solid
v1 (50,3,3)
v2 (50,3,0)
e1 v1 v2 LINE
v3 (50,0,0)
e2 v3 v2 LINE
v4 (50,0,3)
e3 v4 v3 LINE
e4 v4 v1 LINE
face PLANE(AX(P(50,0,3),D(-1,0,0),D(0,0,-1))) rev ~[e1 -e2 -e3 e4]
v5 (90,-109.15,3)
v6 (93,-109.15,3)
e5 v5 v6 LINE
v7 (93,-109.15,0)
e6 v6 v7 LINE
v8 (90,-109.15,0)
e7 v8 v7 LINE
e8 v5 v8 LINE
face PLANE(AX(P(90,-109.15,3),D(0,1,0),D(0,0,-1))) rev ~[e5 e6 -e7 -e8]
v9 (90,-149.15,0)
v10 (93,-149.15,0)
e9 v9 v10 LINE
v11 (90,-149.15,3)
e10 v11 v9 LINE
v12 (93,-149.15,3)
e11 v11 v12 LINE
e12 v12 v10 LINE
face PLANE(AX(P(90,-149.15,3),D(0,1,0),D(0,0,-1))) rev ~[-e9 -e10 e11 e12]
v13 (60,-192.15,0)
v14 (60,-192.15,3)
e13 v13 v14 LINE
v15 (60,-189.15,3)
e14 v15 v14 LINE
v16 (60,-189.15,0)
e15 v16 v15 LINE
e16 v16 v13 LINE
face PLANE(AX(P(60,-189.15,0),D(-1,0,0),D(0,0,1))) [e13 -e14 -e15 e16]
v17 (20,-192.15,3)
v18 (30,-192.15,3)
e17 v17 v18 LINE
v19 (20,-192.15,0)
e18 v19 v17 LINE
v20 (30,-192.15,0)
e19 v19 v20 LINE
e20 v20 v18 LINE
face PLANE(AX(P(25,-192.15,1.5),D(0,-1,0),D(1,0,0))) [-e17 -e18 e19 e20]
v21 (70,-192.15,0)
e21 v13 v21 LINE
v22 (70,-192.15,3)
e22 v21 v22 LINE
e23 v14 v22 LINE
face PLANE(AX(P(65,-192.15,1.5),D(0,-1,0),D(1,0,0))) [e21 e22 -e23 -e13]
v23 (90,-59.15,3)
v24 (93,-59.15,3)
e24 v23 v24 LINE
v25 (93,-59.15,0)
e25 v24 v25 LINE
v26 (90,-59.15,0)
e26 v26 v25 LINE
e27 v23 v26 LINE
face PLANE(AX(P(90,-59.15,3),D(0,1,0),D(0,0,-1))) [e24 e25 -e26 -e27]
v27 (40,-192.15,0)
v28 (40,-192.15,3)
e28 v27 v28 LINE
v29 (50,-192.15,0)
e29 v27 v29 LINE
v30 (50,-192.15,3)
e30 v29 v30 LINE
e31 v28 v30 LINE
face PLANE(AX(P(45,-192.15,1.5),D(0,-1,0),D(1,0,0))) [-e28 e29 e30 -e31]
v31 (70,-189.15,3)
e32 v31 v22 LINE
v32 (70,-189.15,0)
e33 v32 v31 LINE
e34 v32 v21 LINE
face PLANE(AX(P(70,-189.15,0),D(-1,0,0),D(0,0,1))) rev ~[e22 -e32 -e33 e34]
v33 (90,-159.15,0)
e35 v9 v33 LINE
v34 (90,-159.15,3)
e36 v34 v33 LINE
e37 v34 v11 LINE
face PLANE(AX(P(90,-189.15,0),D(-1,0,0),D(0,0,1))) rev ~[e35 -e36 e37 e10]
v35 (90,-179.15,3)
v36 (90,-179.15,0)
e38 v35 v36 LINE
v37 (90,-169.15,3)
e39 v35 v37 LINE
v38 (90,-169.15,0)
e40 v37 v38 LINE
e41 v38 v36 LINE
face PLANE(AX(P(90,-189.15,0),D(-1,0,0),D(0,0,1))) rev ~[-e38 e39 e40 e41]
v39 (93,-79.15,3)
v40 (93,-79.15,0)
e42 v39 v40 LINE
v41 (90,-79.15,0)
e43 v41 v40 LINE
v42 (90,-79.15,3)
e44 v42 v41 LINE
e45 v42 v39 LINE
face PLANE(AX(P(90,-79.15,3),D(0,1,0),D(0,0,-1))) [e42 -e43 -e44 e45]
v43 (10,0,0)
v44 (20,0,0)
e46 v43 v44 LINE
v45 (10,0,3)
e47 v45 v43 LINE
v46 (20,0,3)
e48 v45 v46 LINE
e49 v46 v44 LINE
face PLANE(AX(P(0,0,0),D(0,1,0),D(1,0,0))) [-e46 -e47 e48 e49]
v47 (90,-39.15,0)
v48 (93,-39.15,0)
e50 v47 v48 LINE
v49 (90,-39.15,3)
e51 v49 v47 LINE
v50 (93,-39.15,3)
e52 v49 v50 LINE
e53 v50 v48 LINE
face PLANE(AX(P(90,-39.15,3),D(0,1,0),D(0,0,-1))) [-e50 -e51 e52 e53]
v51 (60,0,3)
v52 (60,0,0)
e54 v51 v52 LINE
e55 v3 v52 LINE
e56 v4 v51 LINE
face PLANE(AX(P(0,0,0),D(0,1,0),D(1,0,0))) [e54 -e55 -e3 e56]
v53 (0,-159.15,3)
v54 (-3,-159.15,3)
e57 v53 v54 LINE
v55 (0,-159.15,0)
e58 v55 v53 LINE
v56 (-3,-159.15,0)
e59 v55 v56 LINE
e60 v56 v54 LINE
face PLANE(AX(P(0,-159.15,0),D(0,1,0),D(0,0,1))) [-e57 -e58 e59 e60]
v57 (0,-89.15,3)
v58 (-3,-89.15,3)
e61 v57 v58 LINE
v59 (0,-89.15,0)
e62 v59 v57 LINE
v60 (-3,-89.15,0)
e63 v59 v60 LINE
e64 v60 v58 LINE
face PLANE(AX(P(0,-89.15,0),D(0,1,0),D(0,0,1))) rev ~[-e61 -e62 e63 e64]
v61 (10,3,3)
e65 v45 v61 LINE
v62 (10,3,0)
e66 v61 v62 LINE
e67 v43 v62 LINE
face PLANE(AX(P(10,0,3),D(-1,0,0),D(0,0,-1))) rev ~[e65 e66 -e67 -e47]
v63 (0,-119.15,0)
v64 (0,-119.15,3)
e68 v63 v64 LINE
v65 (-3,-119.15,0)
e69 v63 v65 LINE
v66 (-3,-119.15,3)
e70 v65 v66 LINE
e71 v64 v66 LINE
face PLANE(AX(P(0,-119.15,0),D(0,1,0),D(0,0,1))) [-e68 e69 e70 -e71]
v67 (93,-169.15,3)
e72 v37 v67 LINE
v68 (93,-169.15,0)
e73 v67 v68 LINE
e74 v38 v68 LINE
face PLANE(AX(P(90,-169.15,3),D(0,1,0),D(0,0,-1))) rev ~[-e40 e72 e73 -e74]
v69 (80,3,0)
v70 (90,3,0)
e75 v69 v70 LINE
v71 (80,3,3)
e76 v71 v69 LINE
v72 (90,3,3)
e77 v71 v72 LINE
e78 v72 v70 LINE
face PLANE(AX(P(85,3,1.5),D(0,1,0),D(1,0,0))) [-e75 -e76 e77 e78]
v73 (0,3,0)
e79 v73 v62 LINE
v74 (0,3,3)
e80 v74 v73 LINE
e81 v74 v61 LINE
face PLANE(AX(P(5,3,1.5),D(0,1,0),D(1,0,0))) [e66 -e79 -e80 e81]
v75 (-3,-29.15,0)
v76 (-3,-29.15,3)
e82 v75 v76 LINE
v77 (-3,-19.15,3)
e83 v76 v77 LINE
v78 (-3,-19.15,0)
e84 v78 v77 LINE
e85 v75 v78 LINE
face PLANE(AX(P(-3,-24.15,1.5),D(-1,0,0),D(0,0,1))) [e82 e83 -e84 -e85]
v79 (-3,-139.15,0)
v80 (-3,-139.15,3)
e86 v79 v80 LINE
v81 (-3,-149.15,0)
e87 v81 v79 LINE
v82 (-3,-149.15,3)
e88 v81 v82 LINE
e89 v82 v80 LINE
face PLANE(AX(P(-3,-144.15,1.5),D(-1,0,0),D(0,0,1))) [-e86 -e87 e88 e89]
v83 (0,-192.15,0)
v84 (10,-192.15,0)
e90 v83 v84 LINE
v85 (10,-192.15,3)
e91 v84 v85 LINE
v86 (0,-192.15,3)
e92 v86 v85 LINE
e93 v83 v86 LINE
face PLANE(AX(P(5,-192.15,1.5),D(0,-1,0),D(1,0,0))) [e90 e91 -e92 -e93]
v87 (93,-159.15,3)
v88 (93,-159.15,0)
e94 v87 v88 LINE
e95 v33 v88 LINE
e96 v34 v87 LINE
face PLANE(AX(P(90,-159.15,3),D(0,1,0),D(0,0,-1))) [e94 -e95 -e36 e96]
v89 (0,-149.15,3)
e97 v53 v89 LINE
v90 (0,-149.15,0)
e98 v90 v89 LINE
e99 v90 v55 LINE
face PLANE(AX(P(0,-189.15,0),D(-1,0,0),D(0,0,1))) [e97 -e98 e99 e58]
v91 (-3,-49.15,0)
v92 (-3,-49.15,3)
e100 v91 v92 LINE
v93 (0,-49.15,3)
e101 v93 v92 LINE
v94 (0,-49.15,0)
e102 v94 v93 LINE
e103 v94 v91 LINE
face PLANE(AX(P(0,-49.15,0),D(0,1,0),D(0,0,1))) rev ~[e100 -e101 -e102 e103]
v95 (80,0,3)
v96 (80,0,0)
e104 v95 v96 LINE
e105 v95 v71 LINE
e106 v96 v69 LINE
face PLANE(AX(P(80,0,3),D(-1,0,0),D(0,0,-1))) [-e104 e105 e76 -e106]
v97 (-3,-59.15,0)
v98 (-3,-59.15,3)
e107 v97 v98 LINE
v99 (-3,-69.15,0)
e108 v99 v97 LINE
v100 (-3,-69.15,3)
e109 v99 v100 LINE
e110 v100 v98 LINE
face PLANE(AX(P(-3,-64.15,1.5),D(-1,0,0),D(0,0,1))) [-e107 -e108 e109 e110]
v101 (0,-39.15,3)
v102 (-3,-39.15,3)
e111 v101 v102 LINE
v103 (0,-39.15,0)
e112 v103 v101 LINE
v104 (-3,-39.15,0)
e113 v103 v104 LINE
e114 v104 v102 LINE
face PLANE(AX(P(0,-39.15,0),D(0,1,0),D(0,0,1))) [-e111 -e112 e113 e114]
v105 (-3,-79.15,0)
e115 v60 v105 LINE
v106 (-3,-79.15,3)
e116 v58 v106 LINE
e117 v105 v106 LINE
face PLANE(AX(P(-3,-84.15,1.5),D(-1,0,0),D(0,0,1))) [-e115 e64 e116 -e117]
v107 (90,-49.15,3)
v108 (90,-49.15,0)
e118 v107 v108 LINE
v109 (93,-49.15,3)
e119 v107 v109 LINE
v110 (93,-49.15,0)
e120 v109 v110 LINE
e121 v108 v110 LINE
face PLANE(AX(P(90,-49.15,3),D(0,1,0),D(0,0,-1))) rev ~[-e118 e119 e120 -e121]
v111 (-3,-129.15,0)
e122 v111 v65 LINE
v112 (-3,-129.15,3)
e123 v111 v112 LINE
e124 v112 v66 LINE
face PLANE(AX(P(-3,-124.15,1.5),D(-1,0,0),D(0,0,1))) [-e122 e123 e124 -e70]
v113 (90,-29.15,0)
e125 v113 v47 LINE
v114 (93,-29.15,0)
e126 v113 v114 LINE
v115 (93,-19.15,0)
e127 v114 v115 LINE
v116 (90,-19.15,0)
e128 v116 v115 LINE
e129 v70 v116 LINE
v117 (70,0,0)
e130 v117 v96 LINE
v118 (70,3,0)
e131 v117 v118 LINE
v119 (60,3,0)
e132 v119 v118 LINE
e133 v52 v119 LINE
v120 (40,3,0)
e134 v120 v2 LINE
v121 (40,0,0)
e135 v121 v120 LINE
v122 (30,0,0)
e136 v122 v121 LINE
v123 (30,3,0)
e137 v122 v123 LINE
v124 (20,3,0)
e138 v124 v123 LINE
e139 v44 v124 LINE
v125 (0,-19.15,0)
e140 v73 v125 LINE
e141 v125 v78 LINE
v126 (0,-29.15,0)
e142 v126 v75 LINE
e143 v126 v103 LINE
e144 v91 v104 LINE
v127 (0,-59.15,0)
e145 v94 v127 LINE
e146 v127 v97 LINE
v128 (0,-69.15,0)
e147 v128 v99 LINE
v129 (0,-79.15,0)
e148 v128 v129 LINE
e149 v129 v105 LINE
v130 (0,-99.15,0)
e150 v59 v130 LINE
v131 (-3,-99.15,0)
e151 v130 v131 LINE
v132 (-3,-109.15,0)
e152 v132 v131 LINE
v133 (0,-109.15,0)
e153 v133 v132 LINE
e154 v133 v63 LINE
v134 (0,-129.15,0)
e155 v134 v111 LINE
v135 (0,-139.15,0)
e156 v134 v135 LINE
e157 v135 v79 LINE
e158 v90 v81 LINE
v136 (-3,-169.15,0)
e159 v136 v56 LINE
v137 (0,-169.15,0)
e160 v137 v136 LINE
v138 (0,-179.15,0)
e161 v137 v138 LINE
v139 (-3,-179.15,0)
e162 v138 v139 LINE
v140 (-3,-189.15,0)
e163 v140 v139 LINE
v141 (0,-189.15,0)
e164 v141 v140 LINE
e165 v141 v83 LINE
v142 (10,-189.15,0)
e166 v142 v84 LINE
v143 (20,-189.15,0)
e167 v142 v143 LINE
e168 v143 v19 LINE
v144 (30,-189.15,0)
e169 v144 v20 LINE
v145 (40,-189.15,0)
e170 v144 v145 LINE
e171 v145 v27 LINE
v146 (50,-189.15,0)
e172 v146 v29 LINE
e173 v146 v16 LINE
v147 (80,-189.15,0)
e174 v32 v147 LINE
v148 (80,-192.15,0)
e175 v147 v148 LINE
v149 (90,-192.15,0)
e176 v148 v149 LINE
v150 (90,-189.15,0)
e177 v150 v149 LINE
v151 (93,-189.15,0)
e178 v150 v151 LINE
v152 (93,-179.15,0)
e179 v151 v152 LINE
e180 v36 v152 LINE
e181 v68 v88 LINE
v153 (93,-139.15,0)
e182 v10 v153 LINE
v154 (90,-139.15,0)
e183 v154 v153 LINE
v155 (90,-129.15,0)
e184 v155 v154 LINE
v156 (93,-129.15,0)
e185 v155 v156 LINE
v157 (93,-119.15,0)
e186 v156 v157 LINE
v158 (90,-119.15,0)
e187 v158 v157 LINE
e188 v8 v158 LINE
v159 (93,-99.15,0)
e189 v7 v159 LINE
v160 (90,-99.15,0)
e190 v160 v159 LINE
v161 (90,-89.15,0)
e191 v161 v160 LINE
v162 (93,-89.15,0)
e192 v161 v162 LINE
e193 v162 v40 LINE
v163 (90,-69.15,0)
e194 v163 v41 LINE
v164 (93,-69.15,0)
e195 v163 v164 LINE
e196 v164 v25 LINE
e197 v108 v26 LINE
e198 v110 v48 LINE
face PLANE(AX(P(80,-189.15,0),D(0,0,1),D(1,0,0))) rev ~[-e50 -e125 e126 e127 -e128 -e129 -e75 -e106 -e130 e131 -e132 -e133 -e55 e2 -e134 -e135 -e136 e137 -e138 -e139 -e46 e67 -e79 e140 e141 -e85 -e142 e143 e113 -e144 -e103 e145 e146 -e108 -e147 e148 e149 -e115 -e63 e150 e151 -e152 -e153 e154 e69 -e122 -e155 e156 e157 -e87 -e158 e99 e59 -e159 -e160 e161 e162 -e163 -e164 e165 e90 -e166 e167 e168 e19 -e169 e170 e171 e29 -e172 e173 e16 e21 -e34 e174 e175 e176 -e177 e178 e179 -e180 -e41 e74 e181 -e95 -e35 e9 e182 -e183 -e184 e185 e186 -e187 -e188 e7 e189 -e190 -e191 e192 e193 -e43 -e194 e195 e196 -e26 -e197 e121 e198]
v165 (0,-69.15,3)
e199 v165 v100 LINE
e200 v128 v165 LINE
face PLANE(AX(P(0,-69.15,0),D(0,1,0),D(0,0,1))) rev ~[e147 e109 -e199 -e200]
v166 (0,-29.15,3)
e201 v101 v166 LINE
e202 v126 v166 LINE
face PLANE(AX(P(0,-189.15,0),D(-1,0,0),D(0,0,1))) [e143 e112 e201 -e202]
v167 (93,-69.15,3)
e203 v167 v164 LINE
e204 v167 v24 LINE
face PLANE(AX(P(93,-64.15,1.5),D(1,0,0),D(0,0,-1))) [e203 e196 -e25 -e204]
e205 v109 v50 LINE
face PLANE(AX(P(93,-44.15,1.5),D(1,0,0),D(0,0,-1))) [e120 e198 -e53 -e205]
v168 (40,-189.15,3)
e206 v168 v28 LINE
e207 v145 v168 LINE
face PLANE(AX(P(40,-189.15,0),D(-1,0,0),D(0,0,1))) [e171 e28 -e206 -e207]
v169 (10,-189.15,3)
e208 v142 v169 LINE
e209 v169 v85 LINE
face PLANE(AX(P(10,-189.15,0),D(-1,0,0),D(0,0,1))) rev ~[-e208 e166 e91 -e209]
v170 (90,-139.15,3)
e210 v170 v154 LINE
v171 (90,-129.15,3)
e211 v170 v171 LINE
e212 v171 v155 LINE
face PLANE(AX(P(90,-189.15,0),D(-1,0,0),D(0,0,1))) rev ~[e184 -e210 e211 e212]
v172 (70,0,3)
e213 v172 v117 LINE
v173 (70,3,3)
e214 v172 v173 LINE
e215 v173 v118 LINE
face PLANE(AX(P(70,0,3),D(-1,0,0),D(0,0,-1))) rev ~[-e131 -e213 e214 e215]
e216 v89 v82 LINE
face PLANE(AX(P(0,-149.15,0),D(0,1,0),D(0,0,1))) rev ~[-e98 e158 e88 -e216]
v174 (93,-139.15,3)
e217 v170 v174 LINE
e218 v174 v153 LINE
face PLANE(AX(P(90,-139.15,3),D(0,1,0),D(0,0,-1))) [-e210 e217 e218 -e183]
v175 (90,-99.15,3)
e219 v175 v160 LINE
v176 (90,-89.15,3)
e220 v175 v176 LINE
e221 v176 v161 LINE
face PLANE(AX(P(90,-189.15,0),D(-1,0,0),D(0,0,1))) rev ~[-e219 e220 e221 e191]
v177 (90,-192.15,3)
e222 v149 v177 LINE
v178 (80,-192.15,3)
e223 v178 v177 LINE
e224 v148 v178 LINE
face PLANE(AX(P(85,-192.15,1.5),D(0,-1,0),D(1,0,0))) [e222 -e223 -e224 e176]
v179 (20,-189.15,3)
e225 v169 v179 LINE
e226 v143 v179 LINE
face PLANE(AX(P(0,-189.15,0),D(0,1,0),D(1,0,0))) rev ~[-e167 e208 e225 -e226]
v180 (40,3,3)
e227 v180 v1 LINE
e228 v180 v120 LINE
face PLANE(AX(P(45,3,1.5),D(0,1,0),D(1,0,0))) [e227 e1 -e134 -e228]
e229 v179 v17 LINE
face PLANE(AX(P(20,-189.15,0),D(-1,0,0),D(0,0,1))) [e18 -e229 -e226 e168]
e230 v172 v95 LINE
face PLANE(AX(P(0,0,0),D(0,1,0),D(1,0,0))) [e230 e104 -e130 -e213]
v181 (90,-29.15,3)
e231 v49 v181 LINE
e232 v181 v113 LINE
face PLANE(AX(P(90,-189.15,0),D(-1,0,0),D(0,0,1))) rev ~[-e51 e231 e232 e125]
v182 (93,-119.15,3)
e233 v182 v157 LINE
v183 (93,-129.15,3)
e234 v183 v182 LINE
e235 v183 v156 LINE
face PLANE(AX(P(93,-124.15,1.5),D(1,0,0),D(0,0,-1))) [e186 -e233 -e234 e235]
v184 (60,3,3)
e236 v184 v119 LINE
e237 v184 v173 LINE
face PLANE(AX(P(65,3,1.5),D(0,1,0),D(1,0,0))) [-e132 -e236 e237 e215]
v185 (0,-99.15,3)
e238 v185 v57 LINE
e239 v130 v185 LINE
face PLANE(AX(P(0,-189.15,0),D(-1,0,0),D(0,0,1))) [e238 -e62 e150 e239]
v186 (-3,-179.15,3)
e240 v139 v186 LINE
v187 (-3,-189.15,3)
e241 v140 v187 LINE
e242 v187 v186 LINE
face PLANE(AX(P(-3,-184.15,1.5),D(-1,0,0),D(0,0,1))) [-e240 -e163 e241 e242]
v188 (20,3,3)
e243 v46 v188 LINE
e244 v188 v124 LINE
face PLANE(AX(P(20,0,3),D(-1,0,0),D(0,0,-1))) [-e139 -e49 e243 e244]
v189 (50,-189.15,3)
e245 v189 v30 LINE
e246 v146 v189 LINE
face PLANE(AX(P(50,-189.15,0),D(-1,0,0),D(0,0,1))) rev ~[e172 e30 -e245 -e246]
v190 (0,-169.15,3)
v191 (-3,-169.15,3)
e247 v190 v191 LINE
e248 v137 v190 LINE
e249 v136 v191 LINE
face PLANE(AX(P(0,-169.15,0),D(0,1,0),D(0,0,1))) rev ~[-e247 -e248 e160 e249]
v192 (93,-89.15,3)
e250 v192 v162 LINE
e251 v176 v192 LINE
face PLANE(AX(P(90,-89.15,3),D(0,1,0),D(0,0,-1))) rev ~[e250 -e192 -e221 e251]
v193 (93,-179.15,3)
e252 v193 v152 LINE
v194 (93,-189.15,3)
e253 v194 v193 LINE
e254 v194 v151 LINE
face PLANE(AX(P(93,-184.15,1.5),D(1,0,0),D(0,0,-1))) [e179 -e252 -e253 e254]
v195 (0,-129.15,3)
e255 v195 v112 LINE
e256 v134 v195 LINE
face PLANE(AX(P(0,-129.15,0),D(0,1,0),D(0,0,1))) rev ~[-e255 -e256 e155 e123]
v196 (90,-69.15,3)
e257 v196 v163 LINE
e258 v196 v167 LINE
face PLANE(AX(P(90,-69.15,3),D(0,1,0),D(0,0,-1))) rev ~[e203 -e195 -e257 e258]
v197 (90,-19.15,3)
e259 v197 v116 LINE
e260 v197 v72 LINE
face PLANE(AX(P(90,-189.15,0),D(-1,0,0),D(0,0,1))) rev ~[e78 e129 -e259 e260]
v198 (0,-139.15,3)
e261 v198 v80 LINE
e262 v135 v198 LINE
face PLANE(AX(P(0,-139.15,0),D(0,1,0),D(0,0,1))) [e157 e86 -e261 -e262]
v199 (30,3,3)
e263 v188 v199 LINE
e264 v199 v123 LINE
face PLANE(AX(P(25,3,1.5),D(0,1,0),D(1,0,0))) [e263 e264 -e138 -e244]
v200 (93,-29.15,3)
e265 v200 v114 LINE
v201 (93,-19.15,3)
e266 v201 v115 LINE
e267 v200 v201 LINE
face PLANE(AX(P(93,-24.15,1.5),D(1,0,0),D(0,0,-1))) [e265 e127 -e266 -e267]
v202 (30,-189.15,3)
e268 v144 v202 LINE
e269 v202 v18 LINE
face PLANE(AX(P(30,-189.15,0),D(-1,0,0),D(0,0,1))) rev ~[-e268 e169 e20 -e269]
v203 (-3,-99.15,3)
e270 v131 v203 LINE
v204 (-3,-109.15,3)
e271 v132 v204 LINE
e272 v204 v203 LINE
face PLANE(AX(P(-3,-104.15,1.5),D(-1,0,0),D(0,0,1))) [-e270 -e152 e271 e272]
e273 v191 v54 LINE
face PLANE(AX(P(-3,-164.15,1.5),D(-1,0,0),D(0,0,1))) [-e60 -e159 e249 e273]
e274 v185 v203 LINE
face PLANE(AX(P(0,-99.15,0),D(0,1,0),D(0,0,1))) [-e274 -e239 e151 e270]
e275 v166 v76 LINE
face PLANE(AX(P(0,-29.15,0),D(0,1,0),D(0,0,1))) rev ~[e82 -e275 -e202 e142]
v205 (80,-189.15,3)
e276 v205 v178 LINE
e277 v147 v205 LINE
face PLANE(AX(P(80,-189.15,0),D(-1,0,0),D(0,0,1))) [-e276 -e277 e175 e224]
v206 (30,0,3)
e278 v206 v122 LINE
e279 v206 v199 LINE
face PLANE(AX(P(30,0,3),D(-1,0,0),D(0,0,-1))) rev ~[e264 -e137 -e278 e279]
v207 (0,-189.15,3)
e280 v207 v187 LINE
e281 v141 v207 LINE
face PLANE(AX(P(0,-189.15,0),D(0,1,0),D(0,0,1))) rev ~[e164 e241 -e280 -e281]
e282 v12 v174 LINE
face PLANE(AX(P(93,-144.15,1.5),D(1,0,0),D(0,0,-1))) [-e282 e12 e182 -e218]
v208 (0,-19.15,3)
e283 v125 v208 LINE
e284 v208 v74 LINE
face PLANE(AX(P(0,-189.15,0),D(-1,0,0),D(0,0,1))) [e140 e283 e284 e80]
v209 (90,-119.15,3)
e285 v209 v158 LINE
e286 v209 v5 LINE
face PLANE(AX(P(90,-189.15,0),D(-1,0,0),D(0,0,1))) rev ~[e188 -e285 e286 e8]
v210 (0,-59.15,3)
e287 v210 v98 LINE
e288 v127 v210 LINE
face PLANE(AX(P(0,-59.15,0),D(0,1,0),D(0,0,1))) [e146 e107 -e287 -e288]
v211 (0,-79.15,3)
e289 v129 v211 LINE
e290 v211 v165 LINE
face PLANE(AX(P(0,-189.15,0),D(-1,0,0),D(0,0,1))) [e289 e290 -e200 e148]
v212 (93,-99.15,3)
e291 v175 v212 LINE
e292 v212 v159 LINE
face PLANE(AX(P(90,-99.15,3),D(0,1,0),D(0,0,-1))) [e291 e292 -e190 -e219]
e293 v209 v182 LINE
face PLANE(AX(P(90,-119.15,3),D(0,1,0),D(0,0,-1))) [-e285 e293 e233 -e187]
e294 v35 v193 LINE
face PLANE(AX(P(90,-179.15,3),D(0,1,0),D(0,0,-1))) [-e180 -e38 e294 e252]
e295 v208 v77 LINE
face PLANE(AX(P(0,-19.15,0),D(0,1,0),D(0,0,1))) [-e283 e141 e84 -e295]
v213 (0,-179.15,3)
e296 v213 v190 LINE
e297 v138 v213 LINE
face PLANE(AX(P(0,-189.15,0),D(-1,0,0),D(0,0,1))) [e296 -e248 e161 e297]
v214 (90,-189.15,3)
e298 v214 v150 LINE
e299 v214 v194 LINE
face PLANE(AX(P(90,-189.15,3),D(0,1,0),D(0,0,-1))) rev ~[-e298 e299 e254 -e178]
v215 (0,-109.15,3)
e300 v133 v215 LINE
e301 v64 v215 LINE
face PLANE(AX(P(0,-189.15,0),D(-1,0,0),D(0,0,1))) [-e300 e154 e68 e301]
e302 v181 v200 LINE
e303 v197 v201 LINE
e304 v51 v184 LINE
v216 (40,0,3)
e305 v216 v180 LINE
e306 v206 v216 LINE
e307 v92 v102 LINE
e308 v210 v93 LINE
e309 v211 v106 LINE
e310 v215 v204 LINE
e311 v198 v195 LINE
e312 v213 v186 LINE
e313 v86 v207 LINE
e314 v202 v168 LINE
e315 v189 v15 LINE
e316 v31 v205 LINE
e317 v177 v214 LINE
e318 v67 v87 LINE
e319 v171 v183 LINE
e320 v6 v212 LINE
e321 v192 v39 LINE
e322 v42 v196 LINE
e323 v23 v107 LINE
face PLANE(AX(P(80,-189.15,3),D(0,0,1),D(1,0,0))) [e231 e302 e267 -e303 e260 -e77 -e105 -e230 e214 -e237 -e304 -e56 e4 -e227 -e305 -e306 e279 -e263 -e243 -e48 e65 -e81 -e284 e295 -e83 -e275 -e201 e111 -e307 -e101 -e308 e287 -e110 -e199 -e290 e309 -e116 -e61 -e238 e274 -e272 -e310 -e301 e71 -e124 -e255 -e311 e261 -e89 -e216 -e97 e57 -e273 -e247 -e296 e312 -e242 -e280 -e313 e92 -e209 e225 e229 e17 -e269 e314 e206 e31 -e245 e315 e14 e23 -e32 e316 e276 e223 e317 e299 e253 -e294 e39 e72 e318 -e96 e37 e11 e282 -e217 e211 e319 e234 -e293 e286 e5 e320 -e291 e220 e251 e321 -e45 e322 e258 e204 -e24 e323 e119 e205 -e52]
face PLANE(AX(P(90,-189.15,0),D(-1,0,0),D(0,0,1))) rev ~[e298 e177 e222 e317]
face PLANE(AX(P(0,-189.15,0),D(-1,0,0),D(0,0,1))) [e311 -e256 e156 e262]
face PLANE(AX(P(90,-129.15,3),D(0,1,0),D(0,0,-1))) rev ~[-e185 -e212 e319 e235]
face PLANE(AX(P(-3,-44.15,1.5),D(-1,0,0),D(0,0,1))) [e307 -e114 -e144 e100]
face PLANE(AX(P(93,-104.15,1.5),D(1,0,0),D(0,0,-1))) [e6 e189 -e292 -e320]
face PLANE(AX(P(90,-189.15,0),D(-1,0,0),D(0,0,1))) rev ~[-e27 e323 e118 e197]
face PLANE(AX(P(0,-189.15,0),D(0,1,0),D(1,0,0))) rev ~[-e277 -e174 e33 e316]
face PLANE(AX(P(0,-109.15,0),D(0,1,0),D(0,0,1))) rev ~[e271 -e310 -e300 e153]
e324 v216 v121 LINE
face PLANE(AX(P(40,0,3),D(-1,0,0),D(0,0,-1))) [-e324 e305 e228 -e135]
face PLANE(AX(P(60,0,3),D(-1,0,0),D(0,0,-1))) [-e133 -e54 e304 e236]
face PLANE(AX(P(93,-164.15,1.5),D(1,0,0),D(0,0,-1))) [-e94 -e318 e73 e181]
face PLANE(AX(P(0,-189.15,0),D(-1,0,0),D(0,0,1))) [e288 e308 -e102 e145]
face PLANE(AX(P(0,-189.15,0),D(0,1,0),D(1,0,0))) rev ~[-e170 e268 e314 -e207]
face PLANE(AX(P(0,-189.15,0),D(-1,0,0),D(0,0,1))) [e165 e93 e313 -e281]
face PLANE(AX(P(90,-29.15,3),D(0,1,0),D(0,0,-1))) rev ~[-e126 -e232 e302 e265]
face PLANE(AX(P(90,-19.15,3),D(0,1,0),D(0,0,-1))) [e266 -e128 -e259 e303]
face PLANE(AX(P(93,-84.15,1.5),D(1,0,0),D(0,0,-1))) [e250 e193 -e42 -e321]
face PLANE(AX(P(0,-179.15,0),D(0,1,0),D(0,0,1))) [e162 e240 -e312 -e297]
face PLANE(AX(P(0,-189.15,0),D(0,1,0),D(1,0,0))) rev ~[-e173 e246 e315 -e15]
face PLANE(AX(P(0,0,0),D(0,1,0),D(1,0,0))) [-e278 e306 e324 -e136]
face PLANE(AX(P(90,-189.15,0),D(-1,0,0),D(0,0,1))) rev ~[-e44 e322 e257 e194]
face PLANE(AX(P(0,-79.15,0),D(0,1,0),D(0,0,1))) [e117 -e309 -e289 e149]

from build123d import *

# Parameters (mm, degrees)
ESQUISSE1_W                = 90
ESQUISSE1_H                = 189.15
BOSS_EXTRU_1_DEPTH         = 3
ESQUISSE2_W                = 10
ESQUISSE2_H                = 3
BOSS_EXTRU_2_DEPTH         = 3
R_P_TITION_LIN_AIRE1_COUNT = 5
R_P_TITION_LIN_AIRE1_PITCH = 20
ESQUISSE3_W                = 10
ESQUISSE3_H                = 3
BOSS_EXTRU_3_DEPTH         = 3
R_P_TITION_LIN_AIRE2_COUNT = 5
R_P_TITION_LIN_AIRE2_PITCH = 20
ESQUISSE4_W                = 3
ESQUISSE4_H                = 10
BOSS_EXTRU_4_DEPTH         = 3
R_P_TITION_LIN_AIRE3_COUNT = 9
R_P_TITION_LIN_AIRE3_PITCH = 20
ESQUISSE5_W                = 3
ESQUISSE5_H                = 10
BOSS_EXTRU_5_DEPTH         = 3
R_P_TITION_LIN_AIRE4_COUNT = 9
R_P_TITION_LIN_AIRE4_PITCH = 20


with BuildPart() as part:
    # Esquisse1 → Boss.-Extru.1 (new body)
    with BuildSketch(Plane.XY):
        with Locations((45, -94.575)):
            Rectangle(ESQUISSE1_W, ESQUISSE1_H)
    extrude(amount=BOSS_EXTRU_1_DEPTH)

    # Esquisse2 → Boss.-Extru.2 (add)
    with BuildSketch(Plane(origin=(0, 0, 0), x_dir=(1, 0, 0), z_dir=(0, 1, 0))):
        with Locations((5, -1.5)):
            Rectangle(ESQUISSE2_W, ESQUISSE2_H)
    boss_extru_2 = extrude(amount=BOSS_EXTRU_2_DEPTH)

    # Répétition linéaire1: Boss.-Extru.2 ×5
    with Locations(*[(i * R_P_TITION_LIN_AIRE1_PITCH, 0, 0) for i in range(1, R_P_TITION_LIN_AIRE1_COUNT)]):
        add(boss_extru_2)

    # Esquisse3 → Boss.-Extru.3 (add)
    with BuildSketch(Plane.XZ.offset(189.15)):
        with Locations((5, 1.5)):
            Rectangle(ESQUISSE3_W, ESQUISSE3_H)
    boss_extru_3 = extrude(amount=BOSS_EXTRU_3_DEPTH)

    # Répétition linéaire2: Boss.-Extru.3 ×5
    with Locations(*[(i * R_P_TITION_LIN_AIRE2_PITCH, 0, 0) for i in range(1, R_P_TITION_LIN_AIRE2_COUNT)]):
        add(boss_extru_3)

    # Esquisse4 → Boss.-Extru.4 (add)
    with BuildSketch(Plane.ZY):
        with Locations((1.5, -184.15)):
            Rectangle(ESQUISSE4_W, ESQUISSE4_H)
    boss_extru_4 = extrude(amount=BOSS_EXTRU_4_DEPTH)

    # Répétition linéaire3: Boss.-Extru.4 ×9
    with Locations(*[(0, i * R_P_TITION_LIN_AIRE3_PITCH, 0) for i in range(1, R_P_TITION_LIN_AIRE3_COUNT)]):
        add(boss_extru_4)

    # Esquisse5 → Boss.-Extru.5 (add)
    with BuildSketch(Plane(origin=(90, 0, 0), x_dir=(0, 0, -1), z_dir=(1, 0, 0))):
        with Locations((-1.5, -184.15)):
            Rectangle(ESQUISSE5_W, ESQUISSE5_H)
    boss_extru_5 = extrude(amount=BOSS_EXTRU_5_DEPTH)

    # Répétition linéaire4: Boss.-Extru.5 ×9
    with Locations(*[(0, i * R_P_TITION_LIN_AIRE4_PITCH, 0) for i in range(1, R_P_TITION_LIN_AIRE4_COUNT)]):
        add(boss_extru_5)


solid = part.part
